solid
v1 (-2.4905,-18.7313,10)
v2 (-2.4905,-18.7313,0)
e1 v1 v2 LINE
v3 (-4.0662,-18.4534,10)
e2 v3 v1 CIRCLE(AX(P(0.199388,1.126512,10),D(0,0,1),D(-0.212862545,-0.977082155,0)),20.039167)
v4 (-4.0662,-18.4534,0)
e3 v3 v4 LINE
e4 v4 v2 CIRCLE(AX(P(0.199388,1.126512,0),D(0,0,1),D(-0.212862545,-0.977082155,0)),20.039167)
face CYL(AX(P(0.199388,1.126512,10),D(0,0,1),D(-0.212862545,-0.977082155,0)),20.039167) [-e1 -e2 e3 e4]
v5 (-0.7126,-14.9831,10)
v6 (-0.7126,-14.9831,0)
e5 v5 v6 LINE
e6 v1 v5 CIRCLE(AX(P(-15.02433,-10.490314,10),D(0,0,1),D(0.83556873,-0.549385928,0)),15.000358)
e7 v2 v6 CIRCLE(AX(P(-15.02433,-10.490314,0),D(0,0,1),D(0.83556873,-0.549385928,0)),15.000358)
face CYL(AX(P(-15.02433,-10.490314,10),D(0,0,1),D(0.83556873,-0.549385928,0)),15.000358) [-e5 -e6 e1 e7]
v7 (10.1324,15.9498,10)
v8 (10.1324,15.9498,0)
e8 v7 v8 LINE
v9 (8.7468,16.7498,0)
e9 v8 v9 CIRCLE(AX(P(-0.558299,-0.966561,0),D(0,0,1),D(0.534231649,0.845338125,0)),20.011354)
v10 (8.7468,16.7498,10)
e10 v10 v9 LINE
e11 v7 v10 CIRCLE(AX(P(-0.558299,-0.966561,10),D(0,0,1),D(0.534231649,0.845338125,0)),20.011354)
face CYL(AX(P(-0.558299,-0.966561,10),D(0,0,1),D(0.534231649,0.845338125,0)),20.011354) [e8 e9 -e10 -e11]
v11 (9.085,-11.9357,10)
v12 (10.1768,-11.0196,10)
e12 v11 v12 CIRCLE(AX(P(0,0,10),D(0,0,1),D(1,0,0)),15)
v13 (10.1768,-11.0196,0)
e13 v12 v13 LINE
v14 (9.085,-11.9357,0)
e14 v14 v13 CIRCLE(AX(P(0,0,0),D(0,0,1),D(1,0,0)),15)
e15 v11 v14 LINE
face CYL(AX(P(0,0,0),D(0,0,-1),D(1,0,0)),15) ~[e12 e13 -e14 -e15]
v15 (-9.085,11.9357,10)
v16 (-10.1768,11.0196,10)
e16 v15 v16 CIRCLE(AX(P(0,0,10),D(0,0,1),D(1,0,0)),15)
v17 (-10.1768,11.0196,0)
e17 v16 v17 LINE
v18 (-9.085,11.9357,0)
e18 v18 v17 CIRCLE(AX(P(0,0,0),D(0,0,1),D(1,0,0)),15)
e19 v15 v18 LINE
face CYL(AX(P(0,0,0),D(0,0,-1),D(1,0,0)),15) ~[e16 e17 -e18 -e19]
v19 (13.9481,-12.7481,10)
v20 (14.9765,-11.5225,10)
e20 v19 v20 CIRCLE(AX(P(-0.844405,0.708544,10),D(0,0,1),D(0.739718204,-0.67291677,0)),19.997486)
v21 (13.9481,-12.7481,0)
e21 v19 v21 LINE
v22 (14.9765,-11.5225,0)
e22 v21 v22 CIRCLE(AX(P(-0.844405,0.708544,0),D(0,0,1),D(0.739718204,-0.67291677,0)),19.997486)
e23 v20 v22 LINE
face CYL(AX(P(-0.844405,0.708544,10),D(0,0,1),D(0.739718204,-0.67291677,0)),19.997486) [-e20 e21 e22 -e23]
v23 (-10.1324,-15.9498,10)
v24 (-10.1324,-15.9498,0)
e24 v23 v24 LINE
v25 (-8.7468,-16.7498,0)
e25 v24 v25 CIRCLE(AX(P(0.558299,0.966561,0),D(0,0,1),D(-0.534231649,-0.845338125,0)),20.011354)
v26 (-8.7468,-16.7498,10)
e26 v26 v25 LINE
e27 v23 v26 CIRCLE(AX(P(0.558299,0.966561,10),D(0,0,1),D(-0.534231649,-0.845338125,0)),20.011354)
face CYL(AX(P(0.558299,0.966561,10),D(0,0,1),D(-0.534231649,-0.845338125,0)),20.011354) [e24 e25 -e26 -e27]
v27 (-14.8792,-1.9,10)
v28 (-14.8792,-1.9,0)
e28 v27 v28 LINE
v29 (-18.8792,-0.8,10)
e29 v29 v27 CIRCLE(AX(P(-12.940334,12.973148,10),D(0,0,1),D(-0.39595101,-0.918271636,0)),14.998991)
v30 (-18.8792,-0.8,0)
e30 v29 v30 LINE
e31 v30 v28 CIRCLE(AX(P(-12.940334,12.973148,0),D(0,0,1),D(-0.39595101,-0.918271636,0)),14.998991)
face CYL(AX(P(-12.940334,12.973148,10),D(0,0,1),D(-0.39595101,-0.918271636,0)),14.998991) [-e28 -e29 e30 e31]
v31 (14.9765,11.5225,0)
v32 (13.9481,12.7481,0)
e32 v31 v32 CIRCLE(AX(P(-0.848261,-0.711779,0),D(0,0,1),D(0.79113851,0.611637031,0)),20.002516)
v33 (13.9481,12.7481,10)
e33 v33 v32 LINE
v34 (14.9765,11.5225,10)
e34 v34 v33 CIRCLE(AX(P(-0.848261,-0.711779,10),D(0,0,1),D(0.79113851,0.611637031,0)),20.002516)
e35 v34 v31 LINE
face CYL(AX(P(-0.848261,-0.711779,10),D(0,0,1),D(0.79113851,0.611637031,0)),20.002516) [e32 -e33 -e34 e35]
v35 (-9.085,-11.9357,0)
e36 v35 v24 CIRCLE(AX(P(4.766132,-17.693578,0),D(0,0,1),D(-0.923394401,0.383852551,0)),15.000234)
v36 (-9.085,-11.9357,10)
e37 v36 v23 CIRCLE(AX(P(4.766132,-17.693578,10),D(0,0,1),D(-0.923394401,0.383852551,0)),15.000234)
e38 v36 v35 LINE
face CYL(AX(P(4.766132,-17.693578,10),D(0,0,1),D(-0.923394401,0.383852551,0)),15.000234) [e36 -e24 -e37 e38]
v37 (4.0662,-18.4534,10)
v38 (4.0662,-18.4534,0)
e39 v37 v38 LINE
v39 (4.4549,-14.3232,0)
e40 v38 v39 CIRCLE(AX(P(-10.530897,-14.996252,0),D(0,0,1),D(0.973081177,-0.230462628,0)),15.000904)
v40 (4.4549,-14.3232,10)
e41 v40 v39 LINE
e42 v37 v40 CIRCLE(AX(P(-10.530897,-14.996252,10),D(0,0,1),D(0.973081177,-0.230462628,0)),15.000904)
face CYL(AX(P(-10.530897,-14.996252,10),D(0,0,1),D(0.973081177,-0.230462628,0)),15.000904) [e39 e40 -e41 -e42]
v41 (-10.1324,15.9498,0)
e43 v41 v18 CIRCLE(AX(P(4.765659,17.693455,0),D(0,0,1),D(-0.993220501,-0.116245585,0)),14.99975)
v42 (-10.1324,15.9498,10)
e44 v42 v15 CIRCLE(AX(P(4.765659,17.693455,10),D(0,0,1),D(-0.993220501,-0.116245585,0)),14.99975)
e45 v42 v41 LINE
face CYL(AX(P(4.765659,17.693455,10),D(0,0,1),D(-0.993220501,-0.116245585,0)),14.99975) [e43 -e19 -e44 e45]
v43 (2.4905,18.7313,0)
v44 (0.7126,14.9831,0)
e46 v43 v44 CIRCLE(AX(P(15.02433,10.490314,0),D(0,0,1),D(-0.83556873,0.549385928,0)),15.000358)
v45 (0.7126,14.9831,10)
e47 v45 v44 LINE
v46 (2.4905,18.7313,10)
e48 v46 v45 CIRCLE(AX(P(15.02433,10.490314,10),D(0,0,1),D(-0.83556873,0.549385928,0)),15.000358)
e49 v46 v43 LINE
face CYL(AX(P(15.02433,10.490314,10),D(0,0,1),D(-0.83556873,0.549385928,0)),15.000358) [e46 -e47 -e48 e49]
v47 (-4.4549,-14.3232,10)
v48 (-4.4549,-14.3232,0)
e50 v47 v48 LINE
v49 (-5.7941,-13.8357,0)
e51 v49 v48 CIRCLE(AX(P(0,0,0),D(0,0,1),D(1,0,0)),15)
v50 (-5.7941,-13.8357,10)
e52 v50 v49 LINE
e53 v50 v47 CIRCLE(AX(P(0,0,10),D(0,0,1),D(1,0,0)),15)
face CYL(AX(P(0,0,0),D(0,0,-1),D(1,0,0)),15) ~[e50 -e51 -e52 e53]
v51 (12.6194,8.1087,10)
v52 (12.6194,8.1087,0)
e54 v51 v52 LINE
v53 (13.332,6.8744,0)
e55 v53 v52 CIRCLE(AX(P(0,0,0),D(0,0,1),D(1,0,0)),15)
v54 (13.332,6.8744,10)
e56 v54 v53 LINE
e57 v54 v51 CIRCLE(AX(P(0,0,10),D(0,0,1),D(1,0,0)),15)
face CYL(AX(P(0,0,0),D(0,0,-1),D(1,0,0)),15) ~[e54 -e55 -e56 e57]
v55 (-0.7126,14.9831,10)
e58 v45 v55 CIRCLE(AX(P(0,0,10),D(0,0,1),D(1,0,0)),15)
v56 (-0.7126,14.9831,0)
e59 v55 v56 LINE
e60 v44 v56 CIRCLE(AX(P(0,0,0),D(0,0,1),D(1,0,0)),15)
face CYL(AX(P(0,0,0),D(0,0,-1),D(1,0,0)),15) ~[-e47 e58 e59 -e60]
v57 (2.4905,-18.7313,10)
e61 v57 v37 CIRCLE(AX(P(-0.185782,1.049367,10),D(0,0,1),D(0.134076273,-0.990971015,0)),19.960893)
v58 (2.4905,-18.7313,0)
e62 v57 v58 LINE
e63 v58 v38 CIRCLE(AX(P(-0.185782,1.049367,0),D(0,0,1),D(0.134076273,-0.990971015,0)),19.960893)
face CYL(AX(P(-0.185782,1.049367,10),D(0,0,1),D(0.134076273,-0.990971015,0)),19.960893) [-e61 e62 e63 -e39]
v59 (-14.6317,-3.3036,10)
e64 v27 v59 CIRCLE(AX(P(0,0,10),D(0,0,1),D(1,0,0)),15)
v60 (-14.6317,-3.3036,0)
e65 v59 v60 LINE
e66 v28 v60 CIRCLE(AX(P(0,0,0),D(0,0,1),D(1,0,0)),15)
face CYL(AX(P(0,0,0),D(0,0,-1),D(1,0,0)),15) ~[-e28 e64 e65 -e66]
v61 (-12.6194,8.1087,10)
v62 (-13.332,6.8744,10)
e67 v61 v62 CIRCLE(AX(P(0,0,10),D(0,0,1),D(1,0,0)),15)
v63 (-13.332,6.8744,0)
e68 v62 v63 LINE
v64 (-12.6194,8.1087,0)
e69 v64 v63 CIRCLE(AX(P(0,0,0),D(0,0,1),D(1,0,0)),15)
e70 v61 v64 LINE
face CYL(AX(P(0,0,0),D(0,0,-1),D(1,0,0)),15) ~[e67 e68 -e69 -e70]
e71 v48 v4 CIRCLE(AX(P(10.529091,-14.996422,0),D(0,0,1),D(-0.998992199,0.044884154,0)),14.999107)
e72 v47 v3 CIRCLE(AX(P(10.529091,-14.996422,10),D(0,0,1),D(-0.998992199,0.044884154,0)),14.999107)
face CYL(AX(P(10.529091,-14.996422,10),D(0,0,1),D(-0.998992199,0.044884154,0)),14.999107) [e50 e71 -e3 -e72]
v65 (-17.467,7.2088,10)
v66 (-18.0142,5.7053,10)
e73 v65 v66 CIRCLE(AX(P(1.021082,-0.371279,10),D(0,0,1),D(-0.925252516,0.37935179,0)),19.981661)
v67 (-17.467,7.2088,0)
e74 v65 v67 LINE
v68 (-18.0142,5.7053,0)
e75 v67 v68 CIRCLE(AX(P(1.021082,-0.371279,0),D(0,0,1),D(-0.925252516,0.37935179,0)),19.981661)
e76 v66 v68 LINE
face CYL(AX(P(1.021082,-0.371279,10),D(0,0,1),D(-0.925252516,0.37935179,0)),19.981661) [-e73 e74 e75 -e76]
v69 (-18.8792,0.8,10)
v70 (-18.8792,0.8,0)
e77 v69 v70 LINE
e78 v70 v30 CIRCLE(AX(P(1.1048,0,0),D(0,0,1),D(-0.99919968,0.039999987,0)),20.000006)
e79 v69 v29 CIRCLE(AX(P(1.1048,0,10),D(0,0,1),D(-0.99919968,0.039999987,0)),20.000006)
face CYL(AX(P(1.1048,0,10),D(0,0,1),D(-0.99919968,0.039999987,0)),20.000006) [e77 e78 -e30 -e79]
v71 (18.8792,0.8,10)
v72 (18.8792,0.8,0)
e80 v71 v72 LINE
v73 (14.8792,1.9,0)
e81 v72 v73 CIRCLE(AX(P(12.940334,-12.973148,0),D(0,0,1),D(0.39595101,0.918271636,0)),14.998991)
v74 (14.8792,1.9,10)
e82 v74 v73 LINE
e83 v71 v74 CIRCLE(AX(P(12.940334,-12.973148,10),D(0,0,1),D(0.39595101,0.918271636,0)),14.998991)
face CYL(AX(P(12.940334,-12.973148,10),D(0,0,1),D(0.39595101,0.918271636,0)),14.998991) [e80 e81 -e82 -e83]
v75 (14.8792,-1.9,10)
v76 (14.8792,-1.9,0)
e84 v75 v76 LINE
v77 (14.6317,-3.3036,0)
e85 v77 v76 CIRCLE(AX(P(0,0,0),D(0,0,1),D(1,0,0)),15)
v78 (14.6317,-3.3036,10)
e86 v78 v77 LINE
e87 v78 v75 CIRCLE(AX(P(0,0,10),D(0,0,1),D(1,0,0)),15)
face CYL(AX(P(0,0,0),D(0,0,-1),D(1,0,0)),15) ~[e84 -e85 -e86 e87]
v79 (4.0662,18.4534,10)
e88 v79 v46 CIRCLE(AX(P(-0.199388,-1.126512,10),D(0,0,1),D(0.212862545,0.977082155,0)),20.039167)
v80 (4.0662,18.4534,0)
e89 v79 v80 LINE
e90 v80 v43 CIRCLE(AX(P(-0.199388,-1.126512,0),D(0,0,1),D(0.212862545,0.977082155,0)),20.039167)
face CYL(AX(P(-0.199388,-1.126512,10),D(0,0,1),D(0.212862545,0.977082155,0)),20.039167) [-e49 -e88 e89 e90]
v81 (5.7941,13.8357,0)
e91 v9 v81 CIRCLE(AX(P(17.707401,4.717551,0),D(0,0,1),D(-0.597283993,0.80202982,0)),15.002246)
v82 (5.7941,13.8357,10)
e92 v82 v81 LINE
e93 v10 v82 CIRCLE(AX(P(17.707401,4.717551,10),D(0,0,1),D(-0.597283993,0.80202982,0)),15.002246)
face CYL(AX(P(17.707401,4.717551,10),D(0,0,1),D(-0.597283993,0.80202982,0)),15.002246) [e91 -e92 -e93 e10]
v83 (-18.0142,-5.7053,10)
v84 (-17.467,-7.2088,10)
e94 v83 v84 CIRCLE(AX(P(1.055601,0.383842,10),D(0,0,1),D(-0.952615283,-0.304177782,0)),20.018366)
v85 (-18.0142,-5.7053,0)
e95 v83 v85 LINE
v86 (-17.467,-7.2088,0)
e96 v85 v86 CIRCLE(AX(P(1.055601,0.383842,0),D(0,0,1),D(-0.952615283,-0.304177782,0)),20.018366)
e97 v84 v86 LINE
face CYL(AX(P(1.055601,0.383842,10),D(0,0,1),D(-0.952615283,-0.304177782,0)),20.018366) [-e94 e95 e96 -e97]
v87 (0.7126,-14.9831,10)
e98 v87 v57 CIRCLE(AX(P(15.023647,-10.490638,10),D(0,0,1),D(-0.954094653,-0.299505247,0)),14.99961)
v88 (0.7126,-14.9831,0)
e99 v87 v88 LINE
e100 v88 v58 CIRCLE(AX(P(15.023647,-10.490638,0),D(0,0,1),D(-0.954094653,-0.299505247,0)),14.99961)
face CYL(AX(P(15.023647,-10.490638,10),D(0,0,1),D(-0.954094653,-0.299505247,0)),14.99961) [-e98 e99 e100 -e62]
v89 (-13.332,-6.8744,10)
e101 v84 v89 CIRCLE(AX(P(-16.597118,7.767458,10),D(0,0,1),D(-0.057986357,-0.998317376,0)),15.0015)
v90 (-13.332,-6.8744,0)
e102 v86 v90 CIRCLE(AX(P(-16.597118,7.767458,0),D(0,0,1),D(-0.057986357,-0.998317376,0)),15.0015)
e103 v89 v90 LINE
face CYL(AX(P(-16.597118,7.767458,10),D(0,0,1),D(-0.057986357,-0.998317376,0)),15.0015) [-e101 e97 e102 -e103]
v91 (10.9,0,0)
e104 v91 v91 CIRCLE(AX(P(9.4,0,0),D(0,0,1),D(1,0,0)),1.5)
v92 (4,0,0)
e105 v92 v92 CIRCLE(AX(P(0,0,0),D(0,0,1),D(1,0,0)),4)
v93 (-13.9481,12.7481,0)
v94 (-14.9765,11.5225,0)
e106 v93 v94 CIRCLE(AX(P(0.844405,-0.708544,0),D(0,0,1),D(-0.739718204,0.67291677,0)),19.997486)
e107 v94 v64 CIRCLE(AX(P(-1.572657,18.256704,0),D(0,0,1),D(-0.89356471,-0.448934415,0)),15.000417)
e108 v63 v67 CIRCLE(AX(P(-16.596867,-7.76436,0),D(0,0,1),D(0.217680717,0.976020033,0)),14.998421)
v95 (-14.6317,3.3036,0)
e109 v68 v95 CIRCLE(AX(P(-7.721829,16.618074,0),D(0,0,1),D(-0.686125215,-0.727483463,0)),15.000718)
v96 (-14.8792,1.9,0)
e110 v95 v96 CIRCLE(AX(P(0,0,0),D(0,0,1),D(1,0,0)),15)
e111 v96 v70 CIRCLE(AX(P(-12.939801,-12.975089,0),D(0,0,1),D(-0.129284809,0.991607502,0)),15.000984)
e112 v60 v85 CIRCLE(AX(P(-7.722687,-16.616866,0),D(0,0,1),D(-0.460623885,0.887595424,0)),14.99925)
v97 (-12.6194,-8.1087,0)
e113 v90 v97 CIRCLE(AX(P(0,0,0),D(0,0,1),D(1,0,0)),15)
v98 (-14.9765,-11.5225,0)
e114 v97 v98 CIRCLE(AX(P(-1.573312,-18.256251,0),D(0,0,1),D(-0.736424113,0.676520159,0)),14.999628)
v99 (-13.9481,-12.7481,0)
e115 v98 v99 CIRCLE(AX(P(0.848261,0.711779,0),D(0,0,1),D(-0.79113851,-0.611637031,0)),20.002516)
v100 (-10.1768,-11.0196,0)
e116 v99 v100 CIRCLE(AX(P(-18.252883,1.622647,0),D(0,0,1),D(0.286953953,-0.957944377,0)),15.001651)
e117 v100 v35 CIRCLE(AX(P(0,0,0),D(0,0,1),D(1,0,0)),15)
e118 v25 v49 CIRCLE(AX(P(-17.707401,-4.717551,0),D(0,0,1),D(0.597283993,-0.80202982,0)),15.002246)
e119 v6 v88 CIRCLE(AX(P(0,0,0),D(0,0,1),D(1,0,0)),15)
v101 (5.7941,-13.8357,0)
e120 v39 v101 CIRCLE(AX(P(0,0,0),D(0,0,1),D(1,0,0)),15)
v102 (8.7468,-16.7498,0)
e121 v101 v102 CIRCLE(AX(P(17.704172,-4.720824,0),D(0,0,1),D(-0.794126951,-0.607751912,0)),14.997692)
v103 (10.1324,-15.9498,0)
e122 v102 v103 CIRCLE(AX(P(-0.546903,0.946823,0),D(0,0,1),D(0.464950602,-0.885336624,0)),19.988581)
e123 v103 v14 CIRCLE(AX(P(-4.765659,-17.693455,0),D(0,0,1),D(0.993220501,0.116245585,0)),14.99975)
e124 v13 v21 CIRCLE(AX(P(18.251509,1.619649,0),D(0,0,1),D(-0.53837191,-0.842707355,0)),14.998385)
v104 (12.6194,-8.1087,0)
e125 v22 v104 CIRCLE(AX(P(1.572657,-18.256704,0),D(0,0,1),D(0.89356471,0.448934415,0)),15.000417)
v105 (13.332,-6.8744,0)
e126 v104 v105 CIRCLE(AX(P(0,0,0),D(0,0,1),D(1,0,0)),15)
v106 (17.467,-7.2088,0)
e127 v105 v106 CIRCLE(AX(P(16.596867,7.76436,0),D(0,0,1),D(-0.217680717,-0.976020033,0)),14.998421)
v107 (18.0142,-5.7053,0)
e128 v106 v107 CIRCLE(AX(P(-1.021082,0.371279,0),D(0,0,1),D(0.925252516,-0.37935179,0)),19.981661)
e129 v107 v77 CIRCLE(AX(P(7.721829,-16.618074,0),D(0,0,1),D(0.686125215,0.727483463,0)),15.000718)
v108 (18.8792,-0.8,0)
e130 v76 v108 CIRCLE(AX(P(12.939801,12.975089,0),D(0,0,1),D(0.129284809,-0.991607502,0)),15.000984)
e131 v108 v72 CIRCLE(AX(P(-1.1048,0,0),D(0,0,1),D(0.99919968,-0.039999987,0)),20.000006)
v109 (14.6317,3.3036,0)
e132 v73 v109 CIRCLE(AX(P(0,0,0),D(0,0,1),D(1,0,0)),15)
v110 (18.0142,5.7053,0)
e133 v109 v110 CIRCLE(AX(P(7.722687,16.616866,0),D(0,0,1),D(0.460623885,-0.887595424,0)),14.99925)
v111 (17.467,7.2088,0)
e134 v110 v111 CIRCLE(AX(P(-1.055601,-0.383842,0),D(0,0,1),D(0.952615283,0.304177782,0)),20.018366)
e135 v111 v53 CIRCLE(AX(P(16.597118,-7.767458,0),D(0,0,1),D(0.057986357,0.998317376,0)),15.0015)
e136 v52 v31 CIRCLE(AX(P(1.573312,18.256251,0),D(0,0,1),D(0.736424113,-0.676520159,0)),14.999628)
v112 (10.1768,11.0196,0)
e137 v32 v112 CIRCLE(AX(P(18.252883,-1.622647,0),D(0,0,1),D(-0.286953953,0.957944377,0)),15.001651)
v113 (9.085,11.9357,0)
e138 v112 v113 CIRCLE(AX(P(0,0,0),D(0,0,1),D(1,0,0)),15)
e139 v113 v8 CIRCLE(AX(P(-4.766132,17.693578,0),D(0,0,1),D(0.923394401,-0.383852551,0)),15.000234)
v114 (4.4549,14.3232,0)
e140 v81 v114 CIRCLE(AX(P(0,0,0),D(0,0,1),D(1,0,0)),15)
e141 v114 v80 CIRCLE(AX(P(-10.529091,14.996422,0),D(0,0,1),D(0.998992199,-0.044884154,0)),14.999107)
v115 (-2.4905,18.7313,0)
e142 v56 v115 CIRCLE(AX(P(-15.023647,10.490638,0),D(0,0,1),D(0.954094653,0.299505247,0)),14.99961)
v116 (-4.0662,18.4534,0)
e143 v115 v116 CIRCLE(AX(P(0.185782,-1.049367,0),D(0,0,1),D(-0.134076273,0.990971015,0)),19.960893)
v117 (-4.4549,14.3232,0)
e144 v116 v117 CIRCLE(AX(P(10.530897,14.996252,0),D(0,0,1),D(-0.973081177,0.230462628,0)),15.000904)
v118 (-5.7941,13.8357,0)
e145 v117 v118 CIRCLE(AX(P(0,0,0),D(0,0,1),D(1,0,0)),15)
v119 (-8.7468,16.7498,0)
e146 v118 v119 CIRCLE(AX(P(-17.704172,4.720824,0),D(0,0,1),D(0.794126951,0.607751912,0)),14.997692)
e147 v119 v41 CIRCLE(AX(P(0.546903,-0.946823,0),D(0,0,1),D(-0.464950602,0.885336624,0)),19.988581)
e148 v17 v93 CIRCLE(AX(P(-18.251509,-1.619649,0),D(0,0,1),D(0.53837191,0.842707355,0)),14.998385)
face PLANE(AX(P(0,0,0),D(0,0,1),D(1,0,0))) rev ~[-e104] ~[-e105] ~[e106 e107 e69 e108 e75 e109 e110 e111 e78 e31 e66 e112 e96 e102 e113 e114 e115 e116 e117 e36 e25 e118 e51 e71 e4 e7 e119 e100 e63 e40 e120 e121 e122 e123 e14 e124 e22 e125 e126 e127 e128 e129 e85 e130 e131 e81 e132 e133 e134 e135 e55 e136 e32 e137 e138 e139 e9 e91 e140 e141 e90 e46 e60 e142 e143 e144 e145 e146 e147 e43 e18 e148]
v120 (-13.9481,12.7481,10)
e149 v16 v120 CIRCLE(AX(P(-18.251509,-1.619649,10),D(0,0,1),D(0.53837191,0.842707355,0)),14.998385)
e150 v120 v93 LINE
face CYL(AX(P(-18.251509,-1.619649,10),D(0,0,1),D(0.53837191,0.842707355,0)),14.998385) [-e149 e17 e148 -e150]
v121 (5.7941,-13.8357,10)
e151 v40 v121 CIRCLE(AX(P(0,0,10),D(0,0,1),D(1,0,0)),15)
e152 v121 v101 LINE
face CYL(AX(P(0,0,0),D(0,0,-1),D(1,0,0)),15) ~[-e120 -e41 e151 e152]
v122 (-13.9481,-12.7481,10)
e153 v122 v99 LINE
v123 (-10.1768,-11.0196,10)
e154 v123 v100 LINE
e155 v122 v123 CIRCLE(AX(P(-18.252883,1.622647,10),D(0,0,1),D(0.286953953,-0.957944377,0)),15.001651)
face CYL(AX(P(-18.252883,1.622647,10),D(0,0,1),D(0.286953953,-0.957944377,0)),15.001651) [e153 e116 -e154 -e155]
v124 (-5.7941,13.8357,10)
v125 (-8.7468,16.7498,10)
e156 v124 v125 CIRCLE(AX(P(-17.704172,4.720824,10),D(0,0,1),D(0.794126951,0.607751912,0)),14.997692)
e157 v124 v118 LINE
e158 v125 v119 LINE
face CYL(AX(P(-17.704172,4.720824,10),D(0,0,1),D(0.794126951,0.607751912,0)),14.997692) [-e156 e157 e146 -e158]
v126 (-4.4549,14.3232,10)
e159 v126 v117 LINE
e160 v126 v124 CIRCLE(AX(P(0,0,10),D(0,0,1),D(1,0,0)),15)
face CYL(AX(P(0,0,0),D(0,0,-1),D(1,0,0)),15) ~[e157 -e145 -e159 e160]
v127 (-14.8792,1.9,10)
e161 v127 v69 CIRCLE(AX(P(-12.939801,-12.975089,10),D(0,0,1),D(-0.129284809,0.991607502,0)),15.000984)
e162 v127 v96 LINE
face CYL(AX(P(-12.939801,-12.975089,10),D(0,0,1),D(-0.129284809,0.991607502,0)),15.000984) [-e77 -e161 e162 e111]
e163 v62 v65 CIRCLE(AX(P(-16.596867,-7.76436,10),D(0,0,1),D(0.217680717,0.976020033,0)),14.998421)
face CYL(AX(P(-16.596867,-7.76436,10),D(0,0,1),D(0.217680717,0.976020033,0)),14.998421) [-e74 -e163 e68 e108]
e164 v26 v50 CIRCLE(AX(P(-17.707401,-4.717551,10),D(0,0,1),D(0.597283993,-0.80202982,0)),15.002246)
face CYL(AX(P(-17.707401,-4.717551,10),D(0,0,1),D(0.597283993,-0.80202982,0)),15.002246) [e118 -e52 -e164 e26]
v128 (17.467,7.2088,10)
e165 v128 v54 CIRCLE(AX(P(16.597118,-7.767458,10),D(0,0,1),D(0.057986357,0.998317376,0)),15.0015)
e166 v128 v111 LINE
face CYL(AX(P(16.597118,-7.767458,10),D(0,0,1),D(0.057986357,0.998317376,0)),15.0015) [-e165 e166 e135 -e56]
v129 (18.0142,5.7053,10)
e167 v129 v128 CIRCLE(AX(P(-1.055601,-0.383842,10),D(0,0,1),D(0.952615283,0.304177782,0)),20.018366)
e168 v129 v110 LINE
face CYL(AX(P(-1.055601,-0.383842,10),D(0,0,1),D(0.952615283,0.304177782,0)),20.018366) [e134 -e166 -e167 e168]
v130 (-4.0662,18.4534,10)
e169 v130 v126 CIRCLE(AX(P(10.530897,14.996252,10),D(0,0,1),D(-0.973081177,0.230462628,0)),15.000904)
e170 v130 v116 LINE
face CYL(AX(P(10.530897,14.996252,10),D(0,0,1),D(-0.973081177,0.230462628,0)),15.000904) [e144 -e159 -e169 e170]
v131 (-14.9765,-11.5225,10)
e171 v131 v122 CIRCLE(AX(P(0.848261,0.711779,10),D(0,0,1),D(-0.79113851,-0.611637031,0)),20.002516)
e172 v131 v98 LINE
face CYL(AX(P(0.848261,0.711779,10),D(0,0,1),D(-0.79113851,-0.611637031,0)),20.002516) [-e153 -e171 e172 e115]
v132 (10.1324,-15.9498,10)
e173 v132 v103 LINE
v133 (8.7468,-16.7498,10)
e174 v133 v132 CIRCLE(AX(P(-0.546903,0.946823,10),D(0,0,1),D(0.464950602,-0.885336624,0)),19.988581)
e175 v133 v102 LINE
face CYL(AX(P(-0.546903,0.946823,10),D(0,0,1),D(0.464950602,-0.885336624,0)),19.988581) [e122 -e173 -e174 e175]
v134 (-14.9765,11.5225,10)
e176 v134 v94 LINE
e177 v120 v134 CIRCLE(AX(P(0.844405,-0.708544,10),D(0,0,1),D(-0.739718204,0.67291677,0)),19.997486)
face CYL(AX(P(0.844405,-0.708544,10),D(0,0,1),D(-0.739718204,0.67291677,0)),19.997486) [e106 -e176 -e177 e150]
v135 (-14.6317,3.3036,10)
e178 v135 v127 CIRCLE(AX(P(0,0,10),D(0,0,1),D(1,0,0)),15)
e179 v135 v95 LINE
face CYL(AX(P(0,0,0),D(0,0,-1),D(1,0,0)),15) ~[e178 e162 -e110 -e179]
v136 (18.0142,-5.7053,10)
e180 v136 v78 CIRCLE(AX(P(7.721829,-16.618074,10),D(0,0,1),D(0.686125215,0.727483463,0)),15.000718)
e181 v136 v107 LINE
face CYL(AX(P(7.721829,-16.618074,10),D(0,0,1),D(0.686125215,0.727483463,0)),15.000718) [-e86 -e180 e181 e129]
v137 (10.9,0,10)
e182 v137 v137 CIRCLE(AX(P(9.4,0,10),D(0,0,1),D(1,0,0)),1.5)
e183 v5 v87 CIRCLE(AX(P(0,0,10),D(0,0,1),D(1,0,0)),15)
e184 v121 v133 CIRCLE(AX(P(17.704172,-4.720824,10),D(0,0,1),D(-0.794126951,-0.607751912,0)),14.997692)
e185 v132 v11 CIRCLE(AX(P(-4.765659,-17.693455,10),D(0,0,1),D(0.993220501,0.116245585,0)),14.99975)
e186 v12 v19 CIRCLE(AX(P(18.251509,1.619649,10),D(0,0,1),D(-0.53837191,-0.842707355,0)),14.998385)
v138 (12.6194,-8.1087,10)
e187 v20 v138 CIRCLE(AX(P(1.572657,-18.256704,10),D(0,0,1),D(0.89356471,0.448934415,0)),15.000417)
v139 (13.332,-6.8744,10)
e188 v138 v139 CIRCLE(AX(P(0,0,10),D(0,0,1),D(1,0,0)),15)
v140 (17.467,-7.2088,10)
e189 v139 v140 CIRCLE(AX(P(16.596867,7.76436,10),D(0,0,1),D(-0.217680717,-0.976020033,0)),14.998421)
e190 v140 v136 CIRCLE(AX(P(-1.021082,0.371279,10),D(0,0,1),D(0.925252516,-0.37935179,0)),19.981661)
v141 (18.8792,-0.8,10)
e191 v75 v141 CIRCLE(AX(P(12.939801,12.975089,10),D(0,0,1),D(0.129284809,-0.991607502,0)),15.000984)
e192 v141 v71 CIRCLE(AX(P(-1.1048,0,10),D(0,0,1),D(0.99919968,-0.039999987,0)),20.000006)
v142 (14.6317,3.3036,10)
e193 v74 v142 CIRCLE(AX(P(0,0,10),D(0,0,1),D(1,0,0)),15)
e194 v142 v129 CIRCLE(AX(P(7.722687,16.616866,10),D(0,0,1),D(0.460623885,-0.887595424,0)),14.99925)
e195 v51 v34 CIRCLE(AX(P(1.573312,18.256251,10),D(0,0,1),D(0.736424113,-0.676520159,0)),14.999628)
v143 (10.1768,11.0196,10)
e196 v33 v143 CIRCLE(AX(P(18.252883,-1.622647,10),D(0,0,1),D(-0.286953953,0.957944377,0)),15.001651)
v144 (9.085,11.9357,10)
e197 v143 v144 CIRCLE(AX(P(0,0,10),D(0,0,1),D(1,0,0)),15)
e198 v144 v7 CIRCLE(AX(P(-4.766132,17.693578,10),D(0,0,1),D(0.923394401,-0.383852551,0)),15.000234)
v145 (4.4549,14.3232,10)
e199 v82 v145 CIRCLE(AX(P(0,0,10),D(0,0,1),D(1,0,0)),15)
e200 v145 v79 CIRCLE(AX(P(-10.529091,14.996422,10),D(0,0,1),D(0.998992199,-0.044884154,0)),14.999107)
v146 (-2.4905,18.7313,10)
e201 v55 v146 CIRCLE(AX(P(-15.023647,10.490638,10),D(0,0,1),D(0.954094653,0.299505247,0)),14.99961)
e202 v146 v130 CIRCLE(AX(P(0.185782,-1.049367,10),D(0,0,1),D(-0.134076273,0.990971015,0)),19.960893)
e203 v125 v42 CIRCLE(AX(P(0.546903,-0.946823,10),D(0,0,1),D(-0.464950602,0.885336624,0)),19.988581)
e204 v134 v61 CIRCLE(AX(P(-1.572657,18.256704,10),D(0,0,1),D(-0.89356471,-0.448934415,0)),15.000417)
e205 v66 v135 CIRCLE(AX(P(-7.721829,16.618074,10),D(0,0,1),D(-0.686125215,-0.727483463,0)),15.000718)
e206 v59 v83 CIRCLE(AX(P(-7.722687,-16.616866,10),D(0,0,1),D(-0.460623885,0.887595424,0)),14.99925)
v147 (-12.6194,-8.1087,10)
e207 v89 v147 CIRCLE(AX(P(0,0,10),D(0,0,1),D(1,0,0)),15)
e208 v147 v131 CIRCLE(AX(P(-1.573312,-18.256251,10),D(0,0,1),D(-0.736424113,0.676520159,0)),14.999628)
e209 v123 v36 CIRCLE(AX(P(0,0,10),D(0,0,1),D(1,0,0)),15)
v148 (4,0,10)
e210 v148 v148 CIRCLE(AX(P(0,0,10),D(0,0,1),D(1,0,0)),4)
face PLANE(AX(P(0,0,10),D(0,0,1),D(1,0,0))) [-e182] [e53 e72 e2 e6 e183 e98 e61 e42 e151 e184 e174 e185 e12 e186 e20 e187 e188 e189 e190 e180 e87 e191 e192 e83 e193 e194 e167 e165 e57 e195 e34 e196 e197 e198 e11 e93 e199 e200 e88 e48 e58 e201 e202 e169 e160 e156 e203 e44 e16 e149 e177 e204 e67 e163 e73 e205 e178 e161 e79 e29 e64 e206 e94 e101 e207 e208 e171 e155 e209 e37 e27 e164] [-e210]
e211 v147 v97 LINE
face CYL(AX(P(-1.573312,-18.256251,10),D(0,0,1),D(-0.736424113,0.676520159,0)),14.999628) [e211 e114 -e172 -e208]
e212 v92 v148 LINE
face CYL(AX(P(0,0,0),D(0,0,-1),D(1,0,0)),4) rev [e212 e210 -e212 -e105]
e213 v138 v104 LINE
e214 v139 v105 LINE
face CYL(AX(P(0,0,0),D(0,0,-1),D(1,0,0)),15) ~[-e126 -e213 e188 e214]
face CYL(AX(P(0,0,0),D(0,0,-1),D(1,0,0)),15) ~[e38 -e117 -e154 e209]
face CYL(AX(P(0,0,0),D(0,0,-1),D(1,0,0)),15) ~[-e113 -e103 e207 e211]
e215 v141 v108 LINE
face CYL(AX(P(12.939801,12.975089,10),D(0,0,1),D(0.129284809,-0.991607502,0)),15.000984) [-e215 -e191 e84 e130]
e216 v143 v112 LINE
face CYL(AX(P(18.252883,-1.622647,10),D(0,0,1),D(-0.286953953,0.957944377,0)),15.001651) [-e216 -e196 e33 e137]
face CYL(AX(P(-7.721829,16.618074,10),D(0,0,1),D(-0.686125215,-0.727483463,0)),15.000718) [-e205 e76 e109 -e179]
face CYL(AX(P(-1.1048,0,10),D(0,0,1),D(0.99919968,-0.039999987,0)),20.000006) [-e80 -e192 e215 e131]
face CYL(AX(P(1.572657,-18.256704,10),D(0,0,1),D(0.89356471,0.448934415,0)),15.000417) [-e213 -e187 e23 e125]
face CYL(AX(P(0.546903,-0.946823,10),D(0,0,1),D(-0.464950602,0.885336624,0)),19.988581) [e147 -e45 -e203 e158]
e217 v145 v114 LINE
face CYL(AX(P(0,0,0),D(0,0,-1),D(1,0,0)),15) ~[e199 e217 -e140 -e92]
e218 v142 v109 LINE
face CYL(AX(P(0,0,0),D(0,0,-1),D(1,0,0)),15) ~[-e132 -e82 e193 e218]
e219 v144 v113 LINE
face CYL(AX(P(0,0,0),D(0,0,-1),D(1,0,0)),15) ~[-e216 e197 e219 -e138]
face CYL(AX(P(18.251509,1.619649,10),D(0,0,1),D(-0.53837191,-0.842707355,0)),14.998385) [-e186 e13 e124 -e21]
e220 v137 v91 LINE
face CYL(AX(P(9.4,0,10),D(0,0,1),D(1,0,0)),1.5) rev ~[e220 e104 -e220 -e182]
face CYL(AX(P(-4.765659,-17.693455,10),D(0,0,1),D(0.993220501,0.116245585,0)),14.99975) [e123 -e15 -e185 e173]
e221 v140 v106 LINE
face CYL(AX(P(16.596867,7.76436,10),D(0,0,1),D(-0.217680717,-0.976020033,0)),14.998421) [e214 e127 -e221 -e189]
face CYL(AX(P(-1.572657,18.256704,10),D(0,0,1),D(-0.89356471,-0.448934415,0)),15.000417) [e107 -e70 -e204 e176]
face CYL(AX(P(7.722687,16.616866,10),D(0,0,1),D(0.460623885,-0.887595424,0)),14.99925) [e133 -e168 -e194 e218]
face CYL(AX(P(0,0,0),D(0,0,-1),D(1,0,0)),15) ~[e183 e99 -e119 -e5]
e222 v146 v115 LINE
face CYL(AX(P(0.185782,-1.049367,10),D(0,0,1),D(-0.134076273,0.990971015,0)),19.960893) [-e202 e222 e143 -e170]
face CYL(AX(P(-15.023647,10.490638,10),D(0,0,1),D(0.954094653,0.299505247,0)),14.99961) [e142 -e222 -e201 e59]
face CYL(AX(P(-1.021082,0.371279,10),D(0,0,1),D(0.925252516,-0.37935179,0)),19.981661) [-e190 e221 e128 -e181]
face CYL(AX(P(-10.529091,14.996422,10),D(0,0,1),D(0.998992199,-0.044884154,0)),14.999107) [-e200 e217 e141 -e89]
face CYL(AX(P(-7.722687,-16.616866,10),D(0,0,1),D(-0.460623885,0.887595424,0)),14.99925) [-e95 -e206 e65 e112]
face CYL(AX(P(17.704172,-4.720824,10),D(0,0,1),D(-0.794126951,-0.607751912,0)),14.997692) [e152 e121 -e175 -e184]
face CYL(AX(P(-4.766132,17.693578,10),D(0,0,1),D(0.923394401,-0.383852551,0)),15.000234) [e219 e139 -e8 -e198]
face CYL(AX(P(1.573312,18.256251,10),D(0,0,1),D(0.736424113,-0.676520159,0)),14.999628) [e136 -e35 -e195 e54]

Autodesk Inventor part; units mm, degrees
ref_plane "YZ Plane" through (0, 0, 0) normal (1, 0, 0) x (0, 1, 0)
ref_plane "XZ Plane" through (0, 0, 0) normal (0, 1, 0) x (-1, 0, 0)
ref_plane "XY Plane" through (0, 0, 0) normal (0, 0, 1) x (1, 0, 0)
sketch "Sketch1" plane through (0, 0, 0) normal (0, 0, 1) x (1, 0, 0)
  circle A0 centre (0, 0) radius 15
  circle A1 centre (0, 0) radius 4
  dimension "d0" = 30
  dimension "d1" = 8
extrude "Extrusion1" add sketch "Sketch1" along normal blind 10
sketch "Sketch2" plane through (0, 0, 10) normal (0, 0, 1) x (1, 0, 0)
  circle A0 centre (9.4, 0) radius 1.5
  circle A1 centre (0, 0) radius 15 construction
  circle A2 centre (0, 0) radius 4 construction
  circle A3 centre (0, 0) radius 4 construction
  circle A4 centre (0, 0) radius 15 construction
  dimension "d4" = 3
  dimension "d23" = 9.4
extrude "Extrusion2" cut sketch "Sketch2" against normal through all
sketch "Sketch3" plane through (0, 0, 10) normal (0, 0, 1) x (1, 0, 0)
  line L0 (0, 0) -> (25, 0) construction
  arc A0 (18.8792, 0.8) -> (14.8792, 1.9) centre (12.94, -12.9741) ccw
  circle A1 centre (0, 0) radius 15 projected
  arc A2 (18.8792, -0.8) -> (18.8792, 0.8) centre (-1.1048, 0) ccw
  arc A3 (14.8792, -1.9) -> (18.8792, -0.8) centre (12.94, 12.9741) ccw
  arc A4 (14.8792, -1.9) -> (14.8792, 1.9) centre (0, 0) ccw
  arc A5 (17.467, 7.2088) -> (13.332, 6.8744) centre (16.5971, -7.7659) ccw
  arc A6 (18.0142, 5.7053) -> (17.467, 7.2088) centre (-1.0382, -0.3779) ccw
  arc A7 (14.6317, 3.3036) -> (18.0142, 5.7053) centre (7.7223, 16.6175) ccw
  arc A8 (14.6317, 3.3036) -> (13.332, 6.8744) centre (0, 0) ccw
  arc A9 (13.9481, 12.7481) -> (10.1768, 11.0196) centre (18.2523, -1.6211) ccw
  arc A10 (14.9765, 11.5225) -> (13.9481, 12.7481) centre (-0.8463, -0.7102) ccw
  arc A11 (12.6194, 8.1087) -> (14.9765, 11.5225) centre (1.573, 18.2565) ccw
  arc A12 (12.6194, 8.1087) -> (10.1768, 11.0196) centre (0, 0) ccw
  arc A13 (8.7468, 16.7498) -> (5.7941, 13.8357) centre (17.7059, 4.7193) ccw
  arc A14 (10.1324, 15.9498) -> (8.7468, 16.7498) centre (-0.5524, -0.9568) ccw
  arc A15 (9.085, 11.9357) -> (10.1324, 15.9498) centre (-4.7659, 17.6935) ccw
  arc A16 (9.085, 11.9357) -> (5.7941, 13.8357) centre (0, 0) ccw
  arc A17 (2.4905, 18.7313) -> (0.7126, 14.9831) centre (15.024, 10.4905) ccw
  arc A18 (4.0662, 18.4534) -> (2.4905, 18.7313) centre (-0.1918, -1.088) ccw
  arc A19 (4.4549, 14.3232) -> (4.0662, 18.4534) centre (-10.53, 14.9964) ccw
  arc A20 (4.4549, 14.3232) -> (0.7126, 14.9831) centre (0, 0) ccw
  arc A21 (-4.0662, 18.4534) -> (-4.4549, 14.3232) centre (10.53, 14.9964) ccw
  arc A22 (-2.4905, 18.7313) -> (-4.0662, 18.4534) centre (0.1918, -1.088) ccw
  arc A23 (-0.7126, 14.9831) -> (-2.4905, 18.7313) centre (-15.024, 10.4905) ccw
  arc A24 (-0.7126, 14.9831) -> (-4.4549, 14.3232) centre (0, 0) ccw
  arc A25 (-10.1324, 15.9498) -> (-9.085, 11.9357) centre (4.7659, 17.6935) ccw
  arc A26 (-8.7468, 16.7498) -> (-10.1324, 15.9498) centre (0.5524, -0.9568) ccw
  arc A27 (-5.7941, 13.8357) -> (-8.7468, 16.7498) centre (-17.7059, 4.7193) ccw
  arc A28 (-5.7941, 13.8357) -> (-9.085, 11.9357) centre (0, 0) ccw
  arc A29 (-14.9765, 11.5225) -> (-12.6194, 8.1087) centre (-1.573, 18.2565) ccw
  arc A30 (-13.9481, 12.7481) -> (-14.9765, 11.5225) centre (0.8463, -0.7102) ccw
  arc A31 (-10.1768, 11.0196) -> (-13.9481, 12.7481) centre (-18.2523, -1.6211) ccw
  arc A32 (-10.1768, 11.0196) -> (-12.6194, 8.1087) centre (0, 0) ccw
  arc A33 (-18.0142, 5.7053) -> (-14.6317, 3.3036) centre (-7.7223, 16.6175) ccw
  arc A34 (-17.467, 7.2088) -> (-18.0142, 5.7053) centre (1.0382, -0.3779) ccw
  arc A35 (-13.332, 6.8744) -> (-17.467, 7.2088) centre (-16.5971, -7.7659) ccw
  arc A36 (-13.332, 6.8744) -> (-14.6317, 3.3036) centre (0, 0) ccw
  arc A37 (-18.8792, -0.8) -> (-14.8792, -1.9) centre (-12.94, 12.9741) ccw
  arc A38 (-18.8792, 0.8) -> (-18.8792, -0.8) centre (1.1048, 0) ccw
  arc A39 (-14.8792, 1.9) -> (-18.8792, 0.8) centre (-12.94, -12.9741) ccw
  arc A40 (-14.8792, 1.9) -> (-14.8792, -1.9) centre (0, 0) ccw
  arc A41 (-17.467, -7.2088) -> (-13.332, -6.8744) centre (-16.5971, 7.7659) ccw
  arc A42 (-18.0142, -5.7053) -> (-17.467, -7.2088) centre (1.0382, 0.3779) ccw
  arc A43 (-14.6317, -3.3036) -> (-18.0142, -5.7053) centre (-7.7223, -16.6175) ccw
  arc A44 (-14.6317, -3.3036) -> (-13.332, -6.8744) centre (0, 0) ccw
  arc A45 (-13.9481, -12.7481) -> (-10.1768, -11.0196) centre (-18.2523, 1.6211) ccw
  arc A46 (-14.9765, -11.5225) -> (-13.9481, -12.7481) centre (0.8463, 0.7102) ccw
  arc A47 (-12.6194, -8.1087) -> (-14.9765, -11.5225) centre (-1.573, -18.2565) ccw
  arc A48 (-12.6194, -8.1087) -> (-10.1768, -11.0196) centre (0, 0) ccw
  arc A49 (-8.7468, -16.7498) -> (-5.7941, -13.8357) centre (-17.7059, -4.7193) ccw
  arc A50 (-10.1324, -15.9498) -> (-8.7468, -16.7498) centre (0.5524, 0.9568) ccw
  arc A51 (-9.085, -11.9357) -> (-10.1324, -15.9498) centre (4.7659, -17.6935) ccw
  arc A52 (-9.085, -11.9357) -> (-5.7941, -13.8357) centre (0, 0) ccw
  arc A53 (-2.4905, -18.7313) -> (-0.7126, -14.9831) centre (-15.024, -10.4905) ccw
  arc A54 (-4.0662, -18.4534) -> (-2.4905, -18.7313) centre (0.1918, 1.088) ccw
  arc A55 (-4.4549, -14.3232) -> (-4.0662, -18.4534) centre (10.53, -14.9964) ccw
  arc A56 (-4.4549, -14.3232) -> (-0.7126, -14.9831) centre (0, 0) ccw
  arc A57 (4.0662, -18.4534) -> (4.4549, -14.3232) centre (-10.53, -14.9964) ccw
  arc A58 (2.4905, -18.7313) -> (4.0662, -18.4534) centre (-0.1918, 1.088) ccw
  arc A59 (0.7126, -14.9831) -> (2.4905, -18.7313) centre (15.024, -10.4905) ccw
  arc A60 (0.7126, -14.9831) -> (4.4549, -14.3232) centre (0, 0) ccw
  arc A61 (10.1324, -15.9498) -> (9.085, -11.9357) centre (-4.7659, -17.6935) ccw
  arc A62 (8.7468, -16.7498) -> (10.1324, -15.9498) centre (-0.5524, 0.9568) ccw
  arc A63 (5.7941, -13.8357) -> (8.7468, -16.7498) centre (17.7059, -4.7193) ccw
  arc A64 (5.7941, -13.8357) -> (9.085, -11.9357) centre (0, 0) ccw
  arc A65 (14.9765, -11.5225) -> (12.6194, -8.1087) centre (1.573, -18.2565) ccw
  arc A66 (13.9481, -12.7481) -> (14.9765, -11.5225) centre (-0.8463, 0.7102) ccw
  arc A67 (10.1768, -11.0196) -> (13.9481, -12.7481) centre (18.2523, 1.6211) ccw
  arc A68 (10.1768, -11.0196) -> (12.6194, -8.1087) centre (0, 0) ccw
  arc A69 (18.0142, -5.7053) -> (14.6317, -3.3036) centre (7.7223, -16.6175) ccw
  arc A70 (17.467, -7.2088) -> (18.0142, -5.7053) centre (-1.0382, 0.3779) ccw
  arc A71 (13.332, -6.8744) -> (17.467, -7.2088) centre (16.5971, 7.7659) ccw
  arc A72 (13.332, -6.8744) -> (14.6317, -3.3036) centre (0, 0) ccw
  point P0 (18.8952, 0)
  point P1 (17.7557, 6.4625)
  point P2 (14.4746, 12.1456)
  point P3 (9.4476, 16.3637)
  point P4 (3.2811, 18.6081)
  point P5 (-3.2811, 18.6081)
  point P6 (-9.4476, 16.3637)
  point P7 (-14.4746, 12.1456)
  point P8 (-17.7557, 6.4625)
  point P9 (-18.8952, 0)
  point P10 (-17.7557, -6.4625)
  point P11 (-14.4746, -12.1456)
  point P12 (-9.4476, -16.3637)
  point P13 (-3.2811, -18.6081)
  point P14 (3.2811, -18.6081)
  point P15 (9.4476, -16.3637)
  point P16 (14.4746, -12.1456)
  point P17 (17.7557, -6.4625)
  dimension "d8" = 25
  dimension "d9" = 15
  dimension "d10" = 1.6
  dimension "d11" = 20
  dimension "d12" = 4
  dimension "d13" = 1.1
  dimension "d14" = 15
  dimension "d15" = 1.1
  dimension "d16" = 4
  dimension "d19" = 360
extrude "Extrusion3" add sketch "Sketch3" against normal blind 10 contours A2 A3 A1 A0 | A1 A5 A6 A7 | A69 A70 A71 A1 | A1 A9 A10 A11 | A65 A66 A67 A1 | A1 A13 A14 A15 | A61 A62 A63 A1 | A1 A17 A18 A19 | A57 A58 A59 A1 | A1 A21 A22 A23 | A53 A54 A55 A1 | A1 A25 A26 A27 | A49 A50 A51 A1 | A1 A29 A30 A31 | A45 A46 A47 A1 | A1 A33 A34 A35 | A41 A42 A43 A1 | A1 A37 A38 A39
properties part number "GA002" material "ABS Plastic"
